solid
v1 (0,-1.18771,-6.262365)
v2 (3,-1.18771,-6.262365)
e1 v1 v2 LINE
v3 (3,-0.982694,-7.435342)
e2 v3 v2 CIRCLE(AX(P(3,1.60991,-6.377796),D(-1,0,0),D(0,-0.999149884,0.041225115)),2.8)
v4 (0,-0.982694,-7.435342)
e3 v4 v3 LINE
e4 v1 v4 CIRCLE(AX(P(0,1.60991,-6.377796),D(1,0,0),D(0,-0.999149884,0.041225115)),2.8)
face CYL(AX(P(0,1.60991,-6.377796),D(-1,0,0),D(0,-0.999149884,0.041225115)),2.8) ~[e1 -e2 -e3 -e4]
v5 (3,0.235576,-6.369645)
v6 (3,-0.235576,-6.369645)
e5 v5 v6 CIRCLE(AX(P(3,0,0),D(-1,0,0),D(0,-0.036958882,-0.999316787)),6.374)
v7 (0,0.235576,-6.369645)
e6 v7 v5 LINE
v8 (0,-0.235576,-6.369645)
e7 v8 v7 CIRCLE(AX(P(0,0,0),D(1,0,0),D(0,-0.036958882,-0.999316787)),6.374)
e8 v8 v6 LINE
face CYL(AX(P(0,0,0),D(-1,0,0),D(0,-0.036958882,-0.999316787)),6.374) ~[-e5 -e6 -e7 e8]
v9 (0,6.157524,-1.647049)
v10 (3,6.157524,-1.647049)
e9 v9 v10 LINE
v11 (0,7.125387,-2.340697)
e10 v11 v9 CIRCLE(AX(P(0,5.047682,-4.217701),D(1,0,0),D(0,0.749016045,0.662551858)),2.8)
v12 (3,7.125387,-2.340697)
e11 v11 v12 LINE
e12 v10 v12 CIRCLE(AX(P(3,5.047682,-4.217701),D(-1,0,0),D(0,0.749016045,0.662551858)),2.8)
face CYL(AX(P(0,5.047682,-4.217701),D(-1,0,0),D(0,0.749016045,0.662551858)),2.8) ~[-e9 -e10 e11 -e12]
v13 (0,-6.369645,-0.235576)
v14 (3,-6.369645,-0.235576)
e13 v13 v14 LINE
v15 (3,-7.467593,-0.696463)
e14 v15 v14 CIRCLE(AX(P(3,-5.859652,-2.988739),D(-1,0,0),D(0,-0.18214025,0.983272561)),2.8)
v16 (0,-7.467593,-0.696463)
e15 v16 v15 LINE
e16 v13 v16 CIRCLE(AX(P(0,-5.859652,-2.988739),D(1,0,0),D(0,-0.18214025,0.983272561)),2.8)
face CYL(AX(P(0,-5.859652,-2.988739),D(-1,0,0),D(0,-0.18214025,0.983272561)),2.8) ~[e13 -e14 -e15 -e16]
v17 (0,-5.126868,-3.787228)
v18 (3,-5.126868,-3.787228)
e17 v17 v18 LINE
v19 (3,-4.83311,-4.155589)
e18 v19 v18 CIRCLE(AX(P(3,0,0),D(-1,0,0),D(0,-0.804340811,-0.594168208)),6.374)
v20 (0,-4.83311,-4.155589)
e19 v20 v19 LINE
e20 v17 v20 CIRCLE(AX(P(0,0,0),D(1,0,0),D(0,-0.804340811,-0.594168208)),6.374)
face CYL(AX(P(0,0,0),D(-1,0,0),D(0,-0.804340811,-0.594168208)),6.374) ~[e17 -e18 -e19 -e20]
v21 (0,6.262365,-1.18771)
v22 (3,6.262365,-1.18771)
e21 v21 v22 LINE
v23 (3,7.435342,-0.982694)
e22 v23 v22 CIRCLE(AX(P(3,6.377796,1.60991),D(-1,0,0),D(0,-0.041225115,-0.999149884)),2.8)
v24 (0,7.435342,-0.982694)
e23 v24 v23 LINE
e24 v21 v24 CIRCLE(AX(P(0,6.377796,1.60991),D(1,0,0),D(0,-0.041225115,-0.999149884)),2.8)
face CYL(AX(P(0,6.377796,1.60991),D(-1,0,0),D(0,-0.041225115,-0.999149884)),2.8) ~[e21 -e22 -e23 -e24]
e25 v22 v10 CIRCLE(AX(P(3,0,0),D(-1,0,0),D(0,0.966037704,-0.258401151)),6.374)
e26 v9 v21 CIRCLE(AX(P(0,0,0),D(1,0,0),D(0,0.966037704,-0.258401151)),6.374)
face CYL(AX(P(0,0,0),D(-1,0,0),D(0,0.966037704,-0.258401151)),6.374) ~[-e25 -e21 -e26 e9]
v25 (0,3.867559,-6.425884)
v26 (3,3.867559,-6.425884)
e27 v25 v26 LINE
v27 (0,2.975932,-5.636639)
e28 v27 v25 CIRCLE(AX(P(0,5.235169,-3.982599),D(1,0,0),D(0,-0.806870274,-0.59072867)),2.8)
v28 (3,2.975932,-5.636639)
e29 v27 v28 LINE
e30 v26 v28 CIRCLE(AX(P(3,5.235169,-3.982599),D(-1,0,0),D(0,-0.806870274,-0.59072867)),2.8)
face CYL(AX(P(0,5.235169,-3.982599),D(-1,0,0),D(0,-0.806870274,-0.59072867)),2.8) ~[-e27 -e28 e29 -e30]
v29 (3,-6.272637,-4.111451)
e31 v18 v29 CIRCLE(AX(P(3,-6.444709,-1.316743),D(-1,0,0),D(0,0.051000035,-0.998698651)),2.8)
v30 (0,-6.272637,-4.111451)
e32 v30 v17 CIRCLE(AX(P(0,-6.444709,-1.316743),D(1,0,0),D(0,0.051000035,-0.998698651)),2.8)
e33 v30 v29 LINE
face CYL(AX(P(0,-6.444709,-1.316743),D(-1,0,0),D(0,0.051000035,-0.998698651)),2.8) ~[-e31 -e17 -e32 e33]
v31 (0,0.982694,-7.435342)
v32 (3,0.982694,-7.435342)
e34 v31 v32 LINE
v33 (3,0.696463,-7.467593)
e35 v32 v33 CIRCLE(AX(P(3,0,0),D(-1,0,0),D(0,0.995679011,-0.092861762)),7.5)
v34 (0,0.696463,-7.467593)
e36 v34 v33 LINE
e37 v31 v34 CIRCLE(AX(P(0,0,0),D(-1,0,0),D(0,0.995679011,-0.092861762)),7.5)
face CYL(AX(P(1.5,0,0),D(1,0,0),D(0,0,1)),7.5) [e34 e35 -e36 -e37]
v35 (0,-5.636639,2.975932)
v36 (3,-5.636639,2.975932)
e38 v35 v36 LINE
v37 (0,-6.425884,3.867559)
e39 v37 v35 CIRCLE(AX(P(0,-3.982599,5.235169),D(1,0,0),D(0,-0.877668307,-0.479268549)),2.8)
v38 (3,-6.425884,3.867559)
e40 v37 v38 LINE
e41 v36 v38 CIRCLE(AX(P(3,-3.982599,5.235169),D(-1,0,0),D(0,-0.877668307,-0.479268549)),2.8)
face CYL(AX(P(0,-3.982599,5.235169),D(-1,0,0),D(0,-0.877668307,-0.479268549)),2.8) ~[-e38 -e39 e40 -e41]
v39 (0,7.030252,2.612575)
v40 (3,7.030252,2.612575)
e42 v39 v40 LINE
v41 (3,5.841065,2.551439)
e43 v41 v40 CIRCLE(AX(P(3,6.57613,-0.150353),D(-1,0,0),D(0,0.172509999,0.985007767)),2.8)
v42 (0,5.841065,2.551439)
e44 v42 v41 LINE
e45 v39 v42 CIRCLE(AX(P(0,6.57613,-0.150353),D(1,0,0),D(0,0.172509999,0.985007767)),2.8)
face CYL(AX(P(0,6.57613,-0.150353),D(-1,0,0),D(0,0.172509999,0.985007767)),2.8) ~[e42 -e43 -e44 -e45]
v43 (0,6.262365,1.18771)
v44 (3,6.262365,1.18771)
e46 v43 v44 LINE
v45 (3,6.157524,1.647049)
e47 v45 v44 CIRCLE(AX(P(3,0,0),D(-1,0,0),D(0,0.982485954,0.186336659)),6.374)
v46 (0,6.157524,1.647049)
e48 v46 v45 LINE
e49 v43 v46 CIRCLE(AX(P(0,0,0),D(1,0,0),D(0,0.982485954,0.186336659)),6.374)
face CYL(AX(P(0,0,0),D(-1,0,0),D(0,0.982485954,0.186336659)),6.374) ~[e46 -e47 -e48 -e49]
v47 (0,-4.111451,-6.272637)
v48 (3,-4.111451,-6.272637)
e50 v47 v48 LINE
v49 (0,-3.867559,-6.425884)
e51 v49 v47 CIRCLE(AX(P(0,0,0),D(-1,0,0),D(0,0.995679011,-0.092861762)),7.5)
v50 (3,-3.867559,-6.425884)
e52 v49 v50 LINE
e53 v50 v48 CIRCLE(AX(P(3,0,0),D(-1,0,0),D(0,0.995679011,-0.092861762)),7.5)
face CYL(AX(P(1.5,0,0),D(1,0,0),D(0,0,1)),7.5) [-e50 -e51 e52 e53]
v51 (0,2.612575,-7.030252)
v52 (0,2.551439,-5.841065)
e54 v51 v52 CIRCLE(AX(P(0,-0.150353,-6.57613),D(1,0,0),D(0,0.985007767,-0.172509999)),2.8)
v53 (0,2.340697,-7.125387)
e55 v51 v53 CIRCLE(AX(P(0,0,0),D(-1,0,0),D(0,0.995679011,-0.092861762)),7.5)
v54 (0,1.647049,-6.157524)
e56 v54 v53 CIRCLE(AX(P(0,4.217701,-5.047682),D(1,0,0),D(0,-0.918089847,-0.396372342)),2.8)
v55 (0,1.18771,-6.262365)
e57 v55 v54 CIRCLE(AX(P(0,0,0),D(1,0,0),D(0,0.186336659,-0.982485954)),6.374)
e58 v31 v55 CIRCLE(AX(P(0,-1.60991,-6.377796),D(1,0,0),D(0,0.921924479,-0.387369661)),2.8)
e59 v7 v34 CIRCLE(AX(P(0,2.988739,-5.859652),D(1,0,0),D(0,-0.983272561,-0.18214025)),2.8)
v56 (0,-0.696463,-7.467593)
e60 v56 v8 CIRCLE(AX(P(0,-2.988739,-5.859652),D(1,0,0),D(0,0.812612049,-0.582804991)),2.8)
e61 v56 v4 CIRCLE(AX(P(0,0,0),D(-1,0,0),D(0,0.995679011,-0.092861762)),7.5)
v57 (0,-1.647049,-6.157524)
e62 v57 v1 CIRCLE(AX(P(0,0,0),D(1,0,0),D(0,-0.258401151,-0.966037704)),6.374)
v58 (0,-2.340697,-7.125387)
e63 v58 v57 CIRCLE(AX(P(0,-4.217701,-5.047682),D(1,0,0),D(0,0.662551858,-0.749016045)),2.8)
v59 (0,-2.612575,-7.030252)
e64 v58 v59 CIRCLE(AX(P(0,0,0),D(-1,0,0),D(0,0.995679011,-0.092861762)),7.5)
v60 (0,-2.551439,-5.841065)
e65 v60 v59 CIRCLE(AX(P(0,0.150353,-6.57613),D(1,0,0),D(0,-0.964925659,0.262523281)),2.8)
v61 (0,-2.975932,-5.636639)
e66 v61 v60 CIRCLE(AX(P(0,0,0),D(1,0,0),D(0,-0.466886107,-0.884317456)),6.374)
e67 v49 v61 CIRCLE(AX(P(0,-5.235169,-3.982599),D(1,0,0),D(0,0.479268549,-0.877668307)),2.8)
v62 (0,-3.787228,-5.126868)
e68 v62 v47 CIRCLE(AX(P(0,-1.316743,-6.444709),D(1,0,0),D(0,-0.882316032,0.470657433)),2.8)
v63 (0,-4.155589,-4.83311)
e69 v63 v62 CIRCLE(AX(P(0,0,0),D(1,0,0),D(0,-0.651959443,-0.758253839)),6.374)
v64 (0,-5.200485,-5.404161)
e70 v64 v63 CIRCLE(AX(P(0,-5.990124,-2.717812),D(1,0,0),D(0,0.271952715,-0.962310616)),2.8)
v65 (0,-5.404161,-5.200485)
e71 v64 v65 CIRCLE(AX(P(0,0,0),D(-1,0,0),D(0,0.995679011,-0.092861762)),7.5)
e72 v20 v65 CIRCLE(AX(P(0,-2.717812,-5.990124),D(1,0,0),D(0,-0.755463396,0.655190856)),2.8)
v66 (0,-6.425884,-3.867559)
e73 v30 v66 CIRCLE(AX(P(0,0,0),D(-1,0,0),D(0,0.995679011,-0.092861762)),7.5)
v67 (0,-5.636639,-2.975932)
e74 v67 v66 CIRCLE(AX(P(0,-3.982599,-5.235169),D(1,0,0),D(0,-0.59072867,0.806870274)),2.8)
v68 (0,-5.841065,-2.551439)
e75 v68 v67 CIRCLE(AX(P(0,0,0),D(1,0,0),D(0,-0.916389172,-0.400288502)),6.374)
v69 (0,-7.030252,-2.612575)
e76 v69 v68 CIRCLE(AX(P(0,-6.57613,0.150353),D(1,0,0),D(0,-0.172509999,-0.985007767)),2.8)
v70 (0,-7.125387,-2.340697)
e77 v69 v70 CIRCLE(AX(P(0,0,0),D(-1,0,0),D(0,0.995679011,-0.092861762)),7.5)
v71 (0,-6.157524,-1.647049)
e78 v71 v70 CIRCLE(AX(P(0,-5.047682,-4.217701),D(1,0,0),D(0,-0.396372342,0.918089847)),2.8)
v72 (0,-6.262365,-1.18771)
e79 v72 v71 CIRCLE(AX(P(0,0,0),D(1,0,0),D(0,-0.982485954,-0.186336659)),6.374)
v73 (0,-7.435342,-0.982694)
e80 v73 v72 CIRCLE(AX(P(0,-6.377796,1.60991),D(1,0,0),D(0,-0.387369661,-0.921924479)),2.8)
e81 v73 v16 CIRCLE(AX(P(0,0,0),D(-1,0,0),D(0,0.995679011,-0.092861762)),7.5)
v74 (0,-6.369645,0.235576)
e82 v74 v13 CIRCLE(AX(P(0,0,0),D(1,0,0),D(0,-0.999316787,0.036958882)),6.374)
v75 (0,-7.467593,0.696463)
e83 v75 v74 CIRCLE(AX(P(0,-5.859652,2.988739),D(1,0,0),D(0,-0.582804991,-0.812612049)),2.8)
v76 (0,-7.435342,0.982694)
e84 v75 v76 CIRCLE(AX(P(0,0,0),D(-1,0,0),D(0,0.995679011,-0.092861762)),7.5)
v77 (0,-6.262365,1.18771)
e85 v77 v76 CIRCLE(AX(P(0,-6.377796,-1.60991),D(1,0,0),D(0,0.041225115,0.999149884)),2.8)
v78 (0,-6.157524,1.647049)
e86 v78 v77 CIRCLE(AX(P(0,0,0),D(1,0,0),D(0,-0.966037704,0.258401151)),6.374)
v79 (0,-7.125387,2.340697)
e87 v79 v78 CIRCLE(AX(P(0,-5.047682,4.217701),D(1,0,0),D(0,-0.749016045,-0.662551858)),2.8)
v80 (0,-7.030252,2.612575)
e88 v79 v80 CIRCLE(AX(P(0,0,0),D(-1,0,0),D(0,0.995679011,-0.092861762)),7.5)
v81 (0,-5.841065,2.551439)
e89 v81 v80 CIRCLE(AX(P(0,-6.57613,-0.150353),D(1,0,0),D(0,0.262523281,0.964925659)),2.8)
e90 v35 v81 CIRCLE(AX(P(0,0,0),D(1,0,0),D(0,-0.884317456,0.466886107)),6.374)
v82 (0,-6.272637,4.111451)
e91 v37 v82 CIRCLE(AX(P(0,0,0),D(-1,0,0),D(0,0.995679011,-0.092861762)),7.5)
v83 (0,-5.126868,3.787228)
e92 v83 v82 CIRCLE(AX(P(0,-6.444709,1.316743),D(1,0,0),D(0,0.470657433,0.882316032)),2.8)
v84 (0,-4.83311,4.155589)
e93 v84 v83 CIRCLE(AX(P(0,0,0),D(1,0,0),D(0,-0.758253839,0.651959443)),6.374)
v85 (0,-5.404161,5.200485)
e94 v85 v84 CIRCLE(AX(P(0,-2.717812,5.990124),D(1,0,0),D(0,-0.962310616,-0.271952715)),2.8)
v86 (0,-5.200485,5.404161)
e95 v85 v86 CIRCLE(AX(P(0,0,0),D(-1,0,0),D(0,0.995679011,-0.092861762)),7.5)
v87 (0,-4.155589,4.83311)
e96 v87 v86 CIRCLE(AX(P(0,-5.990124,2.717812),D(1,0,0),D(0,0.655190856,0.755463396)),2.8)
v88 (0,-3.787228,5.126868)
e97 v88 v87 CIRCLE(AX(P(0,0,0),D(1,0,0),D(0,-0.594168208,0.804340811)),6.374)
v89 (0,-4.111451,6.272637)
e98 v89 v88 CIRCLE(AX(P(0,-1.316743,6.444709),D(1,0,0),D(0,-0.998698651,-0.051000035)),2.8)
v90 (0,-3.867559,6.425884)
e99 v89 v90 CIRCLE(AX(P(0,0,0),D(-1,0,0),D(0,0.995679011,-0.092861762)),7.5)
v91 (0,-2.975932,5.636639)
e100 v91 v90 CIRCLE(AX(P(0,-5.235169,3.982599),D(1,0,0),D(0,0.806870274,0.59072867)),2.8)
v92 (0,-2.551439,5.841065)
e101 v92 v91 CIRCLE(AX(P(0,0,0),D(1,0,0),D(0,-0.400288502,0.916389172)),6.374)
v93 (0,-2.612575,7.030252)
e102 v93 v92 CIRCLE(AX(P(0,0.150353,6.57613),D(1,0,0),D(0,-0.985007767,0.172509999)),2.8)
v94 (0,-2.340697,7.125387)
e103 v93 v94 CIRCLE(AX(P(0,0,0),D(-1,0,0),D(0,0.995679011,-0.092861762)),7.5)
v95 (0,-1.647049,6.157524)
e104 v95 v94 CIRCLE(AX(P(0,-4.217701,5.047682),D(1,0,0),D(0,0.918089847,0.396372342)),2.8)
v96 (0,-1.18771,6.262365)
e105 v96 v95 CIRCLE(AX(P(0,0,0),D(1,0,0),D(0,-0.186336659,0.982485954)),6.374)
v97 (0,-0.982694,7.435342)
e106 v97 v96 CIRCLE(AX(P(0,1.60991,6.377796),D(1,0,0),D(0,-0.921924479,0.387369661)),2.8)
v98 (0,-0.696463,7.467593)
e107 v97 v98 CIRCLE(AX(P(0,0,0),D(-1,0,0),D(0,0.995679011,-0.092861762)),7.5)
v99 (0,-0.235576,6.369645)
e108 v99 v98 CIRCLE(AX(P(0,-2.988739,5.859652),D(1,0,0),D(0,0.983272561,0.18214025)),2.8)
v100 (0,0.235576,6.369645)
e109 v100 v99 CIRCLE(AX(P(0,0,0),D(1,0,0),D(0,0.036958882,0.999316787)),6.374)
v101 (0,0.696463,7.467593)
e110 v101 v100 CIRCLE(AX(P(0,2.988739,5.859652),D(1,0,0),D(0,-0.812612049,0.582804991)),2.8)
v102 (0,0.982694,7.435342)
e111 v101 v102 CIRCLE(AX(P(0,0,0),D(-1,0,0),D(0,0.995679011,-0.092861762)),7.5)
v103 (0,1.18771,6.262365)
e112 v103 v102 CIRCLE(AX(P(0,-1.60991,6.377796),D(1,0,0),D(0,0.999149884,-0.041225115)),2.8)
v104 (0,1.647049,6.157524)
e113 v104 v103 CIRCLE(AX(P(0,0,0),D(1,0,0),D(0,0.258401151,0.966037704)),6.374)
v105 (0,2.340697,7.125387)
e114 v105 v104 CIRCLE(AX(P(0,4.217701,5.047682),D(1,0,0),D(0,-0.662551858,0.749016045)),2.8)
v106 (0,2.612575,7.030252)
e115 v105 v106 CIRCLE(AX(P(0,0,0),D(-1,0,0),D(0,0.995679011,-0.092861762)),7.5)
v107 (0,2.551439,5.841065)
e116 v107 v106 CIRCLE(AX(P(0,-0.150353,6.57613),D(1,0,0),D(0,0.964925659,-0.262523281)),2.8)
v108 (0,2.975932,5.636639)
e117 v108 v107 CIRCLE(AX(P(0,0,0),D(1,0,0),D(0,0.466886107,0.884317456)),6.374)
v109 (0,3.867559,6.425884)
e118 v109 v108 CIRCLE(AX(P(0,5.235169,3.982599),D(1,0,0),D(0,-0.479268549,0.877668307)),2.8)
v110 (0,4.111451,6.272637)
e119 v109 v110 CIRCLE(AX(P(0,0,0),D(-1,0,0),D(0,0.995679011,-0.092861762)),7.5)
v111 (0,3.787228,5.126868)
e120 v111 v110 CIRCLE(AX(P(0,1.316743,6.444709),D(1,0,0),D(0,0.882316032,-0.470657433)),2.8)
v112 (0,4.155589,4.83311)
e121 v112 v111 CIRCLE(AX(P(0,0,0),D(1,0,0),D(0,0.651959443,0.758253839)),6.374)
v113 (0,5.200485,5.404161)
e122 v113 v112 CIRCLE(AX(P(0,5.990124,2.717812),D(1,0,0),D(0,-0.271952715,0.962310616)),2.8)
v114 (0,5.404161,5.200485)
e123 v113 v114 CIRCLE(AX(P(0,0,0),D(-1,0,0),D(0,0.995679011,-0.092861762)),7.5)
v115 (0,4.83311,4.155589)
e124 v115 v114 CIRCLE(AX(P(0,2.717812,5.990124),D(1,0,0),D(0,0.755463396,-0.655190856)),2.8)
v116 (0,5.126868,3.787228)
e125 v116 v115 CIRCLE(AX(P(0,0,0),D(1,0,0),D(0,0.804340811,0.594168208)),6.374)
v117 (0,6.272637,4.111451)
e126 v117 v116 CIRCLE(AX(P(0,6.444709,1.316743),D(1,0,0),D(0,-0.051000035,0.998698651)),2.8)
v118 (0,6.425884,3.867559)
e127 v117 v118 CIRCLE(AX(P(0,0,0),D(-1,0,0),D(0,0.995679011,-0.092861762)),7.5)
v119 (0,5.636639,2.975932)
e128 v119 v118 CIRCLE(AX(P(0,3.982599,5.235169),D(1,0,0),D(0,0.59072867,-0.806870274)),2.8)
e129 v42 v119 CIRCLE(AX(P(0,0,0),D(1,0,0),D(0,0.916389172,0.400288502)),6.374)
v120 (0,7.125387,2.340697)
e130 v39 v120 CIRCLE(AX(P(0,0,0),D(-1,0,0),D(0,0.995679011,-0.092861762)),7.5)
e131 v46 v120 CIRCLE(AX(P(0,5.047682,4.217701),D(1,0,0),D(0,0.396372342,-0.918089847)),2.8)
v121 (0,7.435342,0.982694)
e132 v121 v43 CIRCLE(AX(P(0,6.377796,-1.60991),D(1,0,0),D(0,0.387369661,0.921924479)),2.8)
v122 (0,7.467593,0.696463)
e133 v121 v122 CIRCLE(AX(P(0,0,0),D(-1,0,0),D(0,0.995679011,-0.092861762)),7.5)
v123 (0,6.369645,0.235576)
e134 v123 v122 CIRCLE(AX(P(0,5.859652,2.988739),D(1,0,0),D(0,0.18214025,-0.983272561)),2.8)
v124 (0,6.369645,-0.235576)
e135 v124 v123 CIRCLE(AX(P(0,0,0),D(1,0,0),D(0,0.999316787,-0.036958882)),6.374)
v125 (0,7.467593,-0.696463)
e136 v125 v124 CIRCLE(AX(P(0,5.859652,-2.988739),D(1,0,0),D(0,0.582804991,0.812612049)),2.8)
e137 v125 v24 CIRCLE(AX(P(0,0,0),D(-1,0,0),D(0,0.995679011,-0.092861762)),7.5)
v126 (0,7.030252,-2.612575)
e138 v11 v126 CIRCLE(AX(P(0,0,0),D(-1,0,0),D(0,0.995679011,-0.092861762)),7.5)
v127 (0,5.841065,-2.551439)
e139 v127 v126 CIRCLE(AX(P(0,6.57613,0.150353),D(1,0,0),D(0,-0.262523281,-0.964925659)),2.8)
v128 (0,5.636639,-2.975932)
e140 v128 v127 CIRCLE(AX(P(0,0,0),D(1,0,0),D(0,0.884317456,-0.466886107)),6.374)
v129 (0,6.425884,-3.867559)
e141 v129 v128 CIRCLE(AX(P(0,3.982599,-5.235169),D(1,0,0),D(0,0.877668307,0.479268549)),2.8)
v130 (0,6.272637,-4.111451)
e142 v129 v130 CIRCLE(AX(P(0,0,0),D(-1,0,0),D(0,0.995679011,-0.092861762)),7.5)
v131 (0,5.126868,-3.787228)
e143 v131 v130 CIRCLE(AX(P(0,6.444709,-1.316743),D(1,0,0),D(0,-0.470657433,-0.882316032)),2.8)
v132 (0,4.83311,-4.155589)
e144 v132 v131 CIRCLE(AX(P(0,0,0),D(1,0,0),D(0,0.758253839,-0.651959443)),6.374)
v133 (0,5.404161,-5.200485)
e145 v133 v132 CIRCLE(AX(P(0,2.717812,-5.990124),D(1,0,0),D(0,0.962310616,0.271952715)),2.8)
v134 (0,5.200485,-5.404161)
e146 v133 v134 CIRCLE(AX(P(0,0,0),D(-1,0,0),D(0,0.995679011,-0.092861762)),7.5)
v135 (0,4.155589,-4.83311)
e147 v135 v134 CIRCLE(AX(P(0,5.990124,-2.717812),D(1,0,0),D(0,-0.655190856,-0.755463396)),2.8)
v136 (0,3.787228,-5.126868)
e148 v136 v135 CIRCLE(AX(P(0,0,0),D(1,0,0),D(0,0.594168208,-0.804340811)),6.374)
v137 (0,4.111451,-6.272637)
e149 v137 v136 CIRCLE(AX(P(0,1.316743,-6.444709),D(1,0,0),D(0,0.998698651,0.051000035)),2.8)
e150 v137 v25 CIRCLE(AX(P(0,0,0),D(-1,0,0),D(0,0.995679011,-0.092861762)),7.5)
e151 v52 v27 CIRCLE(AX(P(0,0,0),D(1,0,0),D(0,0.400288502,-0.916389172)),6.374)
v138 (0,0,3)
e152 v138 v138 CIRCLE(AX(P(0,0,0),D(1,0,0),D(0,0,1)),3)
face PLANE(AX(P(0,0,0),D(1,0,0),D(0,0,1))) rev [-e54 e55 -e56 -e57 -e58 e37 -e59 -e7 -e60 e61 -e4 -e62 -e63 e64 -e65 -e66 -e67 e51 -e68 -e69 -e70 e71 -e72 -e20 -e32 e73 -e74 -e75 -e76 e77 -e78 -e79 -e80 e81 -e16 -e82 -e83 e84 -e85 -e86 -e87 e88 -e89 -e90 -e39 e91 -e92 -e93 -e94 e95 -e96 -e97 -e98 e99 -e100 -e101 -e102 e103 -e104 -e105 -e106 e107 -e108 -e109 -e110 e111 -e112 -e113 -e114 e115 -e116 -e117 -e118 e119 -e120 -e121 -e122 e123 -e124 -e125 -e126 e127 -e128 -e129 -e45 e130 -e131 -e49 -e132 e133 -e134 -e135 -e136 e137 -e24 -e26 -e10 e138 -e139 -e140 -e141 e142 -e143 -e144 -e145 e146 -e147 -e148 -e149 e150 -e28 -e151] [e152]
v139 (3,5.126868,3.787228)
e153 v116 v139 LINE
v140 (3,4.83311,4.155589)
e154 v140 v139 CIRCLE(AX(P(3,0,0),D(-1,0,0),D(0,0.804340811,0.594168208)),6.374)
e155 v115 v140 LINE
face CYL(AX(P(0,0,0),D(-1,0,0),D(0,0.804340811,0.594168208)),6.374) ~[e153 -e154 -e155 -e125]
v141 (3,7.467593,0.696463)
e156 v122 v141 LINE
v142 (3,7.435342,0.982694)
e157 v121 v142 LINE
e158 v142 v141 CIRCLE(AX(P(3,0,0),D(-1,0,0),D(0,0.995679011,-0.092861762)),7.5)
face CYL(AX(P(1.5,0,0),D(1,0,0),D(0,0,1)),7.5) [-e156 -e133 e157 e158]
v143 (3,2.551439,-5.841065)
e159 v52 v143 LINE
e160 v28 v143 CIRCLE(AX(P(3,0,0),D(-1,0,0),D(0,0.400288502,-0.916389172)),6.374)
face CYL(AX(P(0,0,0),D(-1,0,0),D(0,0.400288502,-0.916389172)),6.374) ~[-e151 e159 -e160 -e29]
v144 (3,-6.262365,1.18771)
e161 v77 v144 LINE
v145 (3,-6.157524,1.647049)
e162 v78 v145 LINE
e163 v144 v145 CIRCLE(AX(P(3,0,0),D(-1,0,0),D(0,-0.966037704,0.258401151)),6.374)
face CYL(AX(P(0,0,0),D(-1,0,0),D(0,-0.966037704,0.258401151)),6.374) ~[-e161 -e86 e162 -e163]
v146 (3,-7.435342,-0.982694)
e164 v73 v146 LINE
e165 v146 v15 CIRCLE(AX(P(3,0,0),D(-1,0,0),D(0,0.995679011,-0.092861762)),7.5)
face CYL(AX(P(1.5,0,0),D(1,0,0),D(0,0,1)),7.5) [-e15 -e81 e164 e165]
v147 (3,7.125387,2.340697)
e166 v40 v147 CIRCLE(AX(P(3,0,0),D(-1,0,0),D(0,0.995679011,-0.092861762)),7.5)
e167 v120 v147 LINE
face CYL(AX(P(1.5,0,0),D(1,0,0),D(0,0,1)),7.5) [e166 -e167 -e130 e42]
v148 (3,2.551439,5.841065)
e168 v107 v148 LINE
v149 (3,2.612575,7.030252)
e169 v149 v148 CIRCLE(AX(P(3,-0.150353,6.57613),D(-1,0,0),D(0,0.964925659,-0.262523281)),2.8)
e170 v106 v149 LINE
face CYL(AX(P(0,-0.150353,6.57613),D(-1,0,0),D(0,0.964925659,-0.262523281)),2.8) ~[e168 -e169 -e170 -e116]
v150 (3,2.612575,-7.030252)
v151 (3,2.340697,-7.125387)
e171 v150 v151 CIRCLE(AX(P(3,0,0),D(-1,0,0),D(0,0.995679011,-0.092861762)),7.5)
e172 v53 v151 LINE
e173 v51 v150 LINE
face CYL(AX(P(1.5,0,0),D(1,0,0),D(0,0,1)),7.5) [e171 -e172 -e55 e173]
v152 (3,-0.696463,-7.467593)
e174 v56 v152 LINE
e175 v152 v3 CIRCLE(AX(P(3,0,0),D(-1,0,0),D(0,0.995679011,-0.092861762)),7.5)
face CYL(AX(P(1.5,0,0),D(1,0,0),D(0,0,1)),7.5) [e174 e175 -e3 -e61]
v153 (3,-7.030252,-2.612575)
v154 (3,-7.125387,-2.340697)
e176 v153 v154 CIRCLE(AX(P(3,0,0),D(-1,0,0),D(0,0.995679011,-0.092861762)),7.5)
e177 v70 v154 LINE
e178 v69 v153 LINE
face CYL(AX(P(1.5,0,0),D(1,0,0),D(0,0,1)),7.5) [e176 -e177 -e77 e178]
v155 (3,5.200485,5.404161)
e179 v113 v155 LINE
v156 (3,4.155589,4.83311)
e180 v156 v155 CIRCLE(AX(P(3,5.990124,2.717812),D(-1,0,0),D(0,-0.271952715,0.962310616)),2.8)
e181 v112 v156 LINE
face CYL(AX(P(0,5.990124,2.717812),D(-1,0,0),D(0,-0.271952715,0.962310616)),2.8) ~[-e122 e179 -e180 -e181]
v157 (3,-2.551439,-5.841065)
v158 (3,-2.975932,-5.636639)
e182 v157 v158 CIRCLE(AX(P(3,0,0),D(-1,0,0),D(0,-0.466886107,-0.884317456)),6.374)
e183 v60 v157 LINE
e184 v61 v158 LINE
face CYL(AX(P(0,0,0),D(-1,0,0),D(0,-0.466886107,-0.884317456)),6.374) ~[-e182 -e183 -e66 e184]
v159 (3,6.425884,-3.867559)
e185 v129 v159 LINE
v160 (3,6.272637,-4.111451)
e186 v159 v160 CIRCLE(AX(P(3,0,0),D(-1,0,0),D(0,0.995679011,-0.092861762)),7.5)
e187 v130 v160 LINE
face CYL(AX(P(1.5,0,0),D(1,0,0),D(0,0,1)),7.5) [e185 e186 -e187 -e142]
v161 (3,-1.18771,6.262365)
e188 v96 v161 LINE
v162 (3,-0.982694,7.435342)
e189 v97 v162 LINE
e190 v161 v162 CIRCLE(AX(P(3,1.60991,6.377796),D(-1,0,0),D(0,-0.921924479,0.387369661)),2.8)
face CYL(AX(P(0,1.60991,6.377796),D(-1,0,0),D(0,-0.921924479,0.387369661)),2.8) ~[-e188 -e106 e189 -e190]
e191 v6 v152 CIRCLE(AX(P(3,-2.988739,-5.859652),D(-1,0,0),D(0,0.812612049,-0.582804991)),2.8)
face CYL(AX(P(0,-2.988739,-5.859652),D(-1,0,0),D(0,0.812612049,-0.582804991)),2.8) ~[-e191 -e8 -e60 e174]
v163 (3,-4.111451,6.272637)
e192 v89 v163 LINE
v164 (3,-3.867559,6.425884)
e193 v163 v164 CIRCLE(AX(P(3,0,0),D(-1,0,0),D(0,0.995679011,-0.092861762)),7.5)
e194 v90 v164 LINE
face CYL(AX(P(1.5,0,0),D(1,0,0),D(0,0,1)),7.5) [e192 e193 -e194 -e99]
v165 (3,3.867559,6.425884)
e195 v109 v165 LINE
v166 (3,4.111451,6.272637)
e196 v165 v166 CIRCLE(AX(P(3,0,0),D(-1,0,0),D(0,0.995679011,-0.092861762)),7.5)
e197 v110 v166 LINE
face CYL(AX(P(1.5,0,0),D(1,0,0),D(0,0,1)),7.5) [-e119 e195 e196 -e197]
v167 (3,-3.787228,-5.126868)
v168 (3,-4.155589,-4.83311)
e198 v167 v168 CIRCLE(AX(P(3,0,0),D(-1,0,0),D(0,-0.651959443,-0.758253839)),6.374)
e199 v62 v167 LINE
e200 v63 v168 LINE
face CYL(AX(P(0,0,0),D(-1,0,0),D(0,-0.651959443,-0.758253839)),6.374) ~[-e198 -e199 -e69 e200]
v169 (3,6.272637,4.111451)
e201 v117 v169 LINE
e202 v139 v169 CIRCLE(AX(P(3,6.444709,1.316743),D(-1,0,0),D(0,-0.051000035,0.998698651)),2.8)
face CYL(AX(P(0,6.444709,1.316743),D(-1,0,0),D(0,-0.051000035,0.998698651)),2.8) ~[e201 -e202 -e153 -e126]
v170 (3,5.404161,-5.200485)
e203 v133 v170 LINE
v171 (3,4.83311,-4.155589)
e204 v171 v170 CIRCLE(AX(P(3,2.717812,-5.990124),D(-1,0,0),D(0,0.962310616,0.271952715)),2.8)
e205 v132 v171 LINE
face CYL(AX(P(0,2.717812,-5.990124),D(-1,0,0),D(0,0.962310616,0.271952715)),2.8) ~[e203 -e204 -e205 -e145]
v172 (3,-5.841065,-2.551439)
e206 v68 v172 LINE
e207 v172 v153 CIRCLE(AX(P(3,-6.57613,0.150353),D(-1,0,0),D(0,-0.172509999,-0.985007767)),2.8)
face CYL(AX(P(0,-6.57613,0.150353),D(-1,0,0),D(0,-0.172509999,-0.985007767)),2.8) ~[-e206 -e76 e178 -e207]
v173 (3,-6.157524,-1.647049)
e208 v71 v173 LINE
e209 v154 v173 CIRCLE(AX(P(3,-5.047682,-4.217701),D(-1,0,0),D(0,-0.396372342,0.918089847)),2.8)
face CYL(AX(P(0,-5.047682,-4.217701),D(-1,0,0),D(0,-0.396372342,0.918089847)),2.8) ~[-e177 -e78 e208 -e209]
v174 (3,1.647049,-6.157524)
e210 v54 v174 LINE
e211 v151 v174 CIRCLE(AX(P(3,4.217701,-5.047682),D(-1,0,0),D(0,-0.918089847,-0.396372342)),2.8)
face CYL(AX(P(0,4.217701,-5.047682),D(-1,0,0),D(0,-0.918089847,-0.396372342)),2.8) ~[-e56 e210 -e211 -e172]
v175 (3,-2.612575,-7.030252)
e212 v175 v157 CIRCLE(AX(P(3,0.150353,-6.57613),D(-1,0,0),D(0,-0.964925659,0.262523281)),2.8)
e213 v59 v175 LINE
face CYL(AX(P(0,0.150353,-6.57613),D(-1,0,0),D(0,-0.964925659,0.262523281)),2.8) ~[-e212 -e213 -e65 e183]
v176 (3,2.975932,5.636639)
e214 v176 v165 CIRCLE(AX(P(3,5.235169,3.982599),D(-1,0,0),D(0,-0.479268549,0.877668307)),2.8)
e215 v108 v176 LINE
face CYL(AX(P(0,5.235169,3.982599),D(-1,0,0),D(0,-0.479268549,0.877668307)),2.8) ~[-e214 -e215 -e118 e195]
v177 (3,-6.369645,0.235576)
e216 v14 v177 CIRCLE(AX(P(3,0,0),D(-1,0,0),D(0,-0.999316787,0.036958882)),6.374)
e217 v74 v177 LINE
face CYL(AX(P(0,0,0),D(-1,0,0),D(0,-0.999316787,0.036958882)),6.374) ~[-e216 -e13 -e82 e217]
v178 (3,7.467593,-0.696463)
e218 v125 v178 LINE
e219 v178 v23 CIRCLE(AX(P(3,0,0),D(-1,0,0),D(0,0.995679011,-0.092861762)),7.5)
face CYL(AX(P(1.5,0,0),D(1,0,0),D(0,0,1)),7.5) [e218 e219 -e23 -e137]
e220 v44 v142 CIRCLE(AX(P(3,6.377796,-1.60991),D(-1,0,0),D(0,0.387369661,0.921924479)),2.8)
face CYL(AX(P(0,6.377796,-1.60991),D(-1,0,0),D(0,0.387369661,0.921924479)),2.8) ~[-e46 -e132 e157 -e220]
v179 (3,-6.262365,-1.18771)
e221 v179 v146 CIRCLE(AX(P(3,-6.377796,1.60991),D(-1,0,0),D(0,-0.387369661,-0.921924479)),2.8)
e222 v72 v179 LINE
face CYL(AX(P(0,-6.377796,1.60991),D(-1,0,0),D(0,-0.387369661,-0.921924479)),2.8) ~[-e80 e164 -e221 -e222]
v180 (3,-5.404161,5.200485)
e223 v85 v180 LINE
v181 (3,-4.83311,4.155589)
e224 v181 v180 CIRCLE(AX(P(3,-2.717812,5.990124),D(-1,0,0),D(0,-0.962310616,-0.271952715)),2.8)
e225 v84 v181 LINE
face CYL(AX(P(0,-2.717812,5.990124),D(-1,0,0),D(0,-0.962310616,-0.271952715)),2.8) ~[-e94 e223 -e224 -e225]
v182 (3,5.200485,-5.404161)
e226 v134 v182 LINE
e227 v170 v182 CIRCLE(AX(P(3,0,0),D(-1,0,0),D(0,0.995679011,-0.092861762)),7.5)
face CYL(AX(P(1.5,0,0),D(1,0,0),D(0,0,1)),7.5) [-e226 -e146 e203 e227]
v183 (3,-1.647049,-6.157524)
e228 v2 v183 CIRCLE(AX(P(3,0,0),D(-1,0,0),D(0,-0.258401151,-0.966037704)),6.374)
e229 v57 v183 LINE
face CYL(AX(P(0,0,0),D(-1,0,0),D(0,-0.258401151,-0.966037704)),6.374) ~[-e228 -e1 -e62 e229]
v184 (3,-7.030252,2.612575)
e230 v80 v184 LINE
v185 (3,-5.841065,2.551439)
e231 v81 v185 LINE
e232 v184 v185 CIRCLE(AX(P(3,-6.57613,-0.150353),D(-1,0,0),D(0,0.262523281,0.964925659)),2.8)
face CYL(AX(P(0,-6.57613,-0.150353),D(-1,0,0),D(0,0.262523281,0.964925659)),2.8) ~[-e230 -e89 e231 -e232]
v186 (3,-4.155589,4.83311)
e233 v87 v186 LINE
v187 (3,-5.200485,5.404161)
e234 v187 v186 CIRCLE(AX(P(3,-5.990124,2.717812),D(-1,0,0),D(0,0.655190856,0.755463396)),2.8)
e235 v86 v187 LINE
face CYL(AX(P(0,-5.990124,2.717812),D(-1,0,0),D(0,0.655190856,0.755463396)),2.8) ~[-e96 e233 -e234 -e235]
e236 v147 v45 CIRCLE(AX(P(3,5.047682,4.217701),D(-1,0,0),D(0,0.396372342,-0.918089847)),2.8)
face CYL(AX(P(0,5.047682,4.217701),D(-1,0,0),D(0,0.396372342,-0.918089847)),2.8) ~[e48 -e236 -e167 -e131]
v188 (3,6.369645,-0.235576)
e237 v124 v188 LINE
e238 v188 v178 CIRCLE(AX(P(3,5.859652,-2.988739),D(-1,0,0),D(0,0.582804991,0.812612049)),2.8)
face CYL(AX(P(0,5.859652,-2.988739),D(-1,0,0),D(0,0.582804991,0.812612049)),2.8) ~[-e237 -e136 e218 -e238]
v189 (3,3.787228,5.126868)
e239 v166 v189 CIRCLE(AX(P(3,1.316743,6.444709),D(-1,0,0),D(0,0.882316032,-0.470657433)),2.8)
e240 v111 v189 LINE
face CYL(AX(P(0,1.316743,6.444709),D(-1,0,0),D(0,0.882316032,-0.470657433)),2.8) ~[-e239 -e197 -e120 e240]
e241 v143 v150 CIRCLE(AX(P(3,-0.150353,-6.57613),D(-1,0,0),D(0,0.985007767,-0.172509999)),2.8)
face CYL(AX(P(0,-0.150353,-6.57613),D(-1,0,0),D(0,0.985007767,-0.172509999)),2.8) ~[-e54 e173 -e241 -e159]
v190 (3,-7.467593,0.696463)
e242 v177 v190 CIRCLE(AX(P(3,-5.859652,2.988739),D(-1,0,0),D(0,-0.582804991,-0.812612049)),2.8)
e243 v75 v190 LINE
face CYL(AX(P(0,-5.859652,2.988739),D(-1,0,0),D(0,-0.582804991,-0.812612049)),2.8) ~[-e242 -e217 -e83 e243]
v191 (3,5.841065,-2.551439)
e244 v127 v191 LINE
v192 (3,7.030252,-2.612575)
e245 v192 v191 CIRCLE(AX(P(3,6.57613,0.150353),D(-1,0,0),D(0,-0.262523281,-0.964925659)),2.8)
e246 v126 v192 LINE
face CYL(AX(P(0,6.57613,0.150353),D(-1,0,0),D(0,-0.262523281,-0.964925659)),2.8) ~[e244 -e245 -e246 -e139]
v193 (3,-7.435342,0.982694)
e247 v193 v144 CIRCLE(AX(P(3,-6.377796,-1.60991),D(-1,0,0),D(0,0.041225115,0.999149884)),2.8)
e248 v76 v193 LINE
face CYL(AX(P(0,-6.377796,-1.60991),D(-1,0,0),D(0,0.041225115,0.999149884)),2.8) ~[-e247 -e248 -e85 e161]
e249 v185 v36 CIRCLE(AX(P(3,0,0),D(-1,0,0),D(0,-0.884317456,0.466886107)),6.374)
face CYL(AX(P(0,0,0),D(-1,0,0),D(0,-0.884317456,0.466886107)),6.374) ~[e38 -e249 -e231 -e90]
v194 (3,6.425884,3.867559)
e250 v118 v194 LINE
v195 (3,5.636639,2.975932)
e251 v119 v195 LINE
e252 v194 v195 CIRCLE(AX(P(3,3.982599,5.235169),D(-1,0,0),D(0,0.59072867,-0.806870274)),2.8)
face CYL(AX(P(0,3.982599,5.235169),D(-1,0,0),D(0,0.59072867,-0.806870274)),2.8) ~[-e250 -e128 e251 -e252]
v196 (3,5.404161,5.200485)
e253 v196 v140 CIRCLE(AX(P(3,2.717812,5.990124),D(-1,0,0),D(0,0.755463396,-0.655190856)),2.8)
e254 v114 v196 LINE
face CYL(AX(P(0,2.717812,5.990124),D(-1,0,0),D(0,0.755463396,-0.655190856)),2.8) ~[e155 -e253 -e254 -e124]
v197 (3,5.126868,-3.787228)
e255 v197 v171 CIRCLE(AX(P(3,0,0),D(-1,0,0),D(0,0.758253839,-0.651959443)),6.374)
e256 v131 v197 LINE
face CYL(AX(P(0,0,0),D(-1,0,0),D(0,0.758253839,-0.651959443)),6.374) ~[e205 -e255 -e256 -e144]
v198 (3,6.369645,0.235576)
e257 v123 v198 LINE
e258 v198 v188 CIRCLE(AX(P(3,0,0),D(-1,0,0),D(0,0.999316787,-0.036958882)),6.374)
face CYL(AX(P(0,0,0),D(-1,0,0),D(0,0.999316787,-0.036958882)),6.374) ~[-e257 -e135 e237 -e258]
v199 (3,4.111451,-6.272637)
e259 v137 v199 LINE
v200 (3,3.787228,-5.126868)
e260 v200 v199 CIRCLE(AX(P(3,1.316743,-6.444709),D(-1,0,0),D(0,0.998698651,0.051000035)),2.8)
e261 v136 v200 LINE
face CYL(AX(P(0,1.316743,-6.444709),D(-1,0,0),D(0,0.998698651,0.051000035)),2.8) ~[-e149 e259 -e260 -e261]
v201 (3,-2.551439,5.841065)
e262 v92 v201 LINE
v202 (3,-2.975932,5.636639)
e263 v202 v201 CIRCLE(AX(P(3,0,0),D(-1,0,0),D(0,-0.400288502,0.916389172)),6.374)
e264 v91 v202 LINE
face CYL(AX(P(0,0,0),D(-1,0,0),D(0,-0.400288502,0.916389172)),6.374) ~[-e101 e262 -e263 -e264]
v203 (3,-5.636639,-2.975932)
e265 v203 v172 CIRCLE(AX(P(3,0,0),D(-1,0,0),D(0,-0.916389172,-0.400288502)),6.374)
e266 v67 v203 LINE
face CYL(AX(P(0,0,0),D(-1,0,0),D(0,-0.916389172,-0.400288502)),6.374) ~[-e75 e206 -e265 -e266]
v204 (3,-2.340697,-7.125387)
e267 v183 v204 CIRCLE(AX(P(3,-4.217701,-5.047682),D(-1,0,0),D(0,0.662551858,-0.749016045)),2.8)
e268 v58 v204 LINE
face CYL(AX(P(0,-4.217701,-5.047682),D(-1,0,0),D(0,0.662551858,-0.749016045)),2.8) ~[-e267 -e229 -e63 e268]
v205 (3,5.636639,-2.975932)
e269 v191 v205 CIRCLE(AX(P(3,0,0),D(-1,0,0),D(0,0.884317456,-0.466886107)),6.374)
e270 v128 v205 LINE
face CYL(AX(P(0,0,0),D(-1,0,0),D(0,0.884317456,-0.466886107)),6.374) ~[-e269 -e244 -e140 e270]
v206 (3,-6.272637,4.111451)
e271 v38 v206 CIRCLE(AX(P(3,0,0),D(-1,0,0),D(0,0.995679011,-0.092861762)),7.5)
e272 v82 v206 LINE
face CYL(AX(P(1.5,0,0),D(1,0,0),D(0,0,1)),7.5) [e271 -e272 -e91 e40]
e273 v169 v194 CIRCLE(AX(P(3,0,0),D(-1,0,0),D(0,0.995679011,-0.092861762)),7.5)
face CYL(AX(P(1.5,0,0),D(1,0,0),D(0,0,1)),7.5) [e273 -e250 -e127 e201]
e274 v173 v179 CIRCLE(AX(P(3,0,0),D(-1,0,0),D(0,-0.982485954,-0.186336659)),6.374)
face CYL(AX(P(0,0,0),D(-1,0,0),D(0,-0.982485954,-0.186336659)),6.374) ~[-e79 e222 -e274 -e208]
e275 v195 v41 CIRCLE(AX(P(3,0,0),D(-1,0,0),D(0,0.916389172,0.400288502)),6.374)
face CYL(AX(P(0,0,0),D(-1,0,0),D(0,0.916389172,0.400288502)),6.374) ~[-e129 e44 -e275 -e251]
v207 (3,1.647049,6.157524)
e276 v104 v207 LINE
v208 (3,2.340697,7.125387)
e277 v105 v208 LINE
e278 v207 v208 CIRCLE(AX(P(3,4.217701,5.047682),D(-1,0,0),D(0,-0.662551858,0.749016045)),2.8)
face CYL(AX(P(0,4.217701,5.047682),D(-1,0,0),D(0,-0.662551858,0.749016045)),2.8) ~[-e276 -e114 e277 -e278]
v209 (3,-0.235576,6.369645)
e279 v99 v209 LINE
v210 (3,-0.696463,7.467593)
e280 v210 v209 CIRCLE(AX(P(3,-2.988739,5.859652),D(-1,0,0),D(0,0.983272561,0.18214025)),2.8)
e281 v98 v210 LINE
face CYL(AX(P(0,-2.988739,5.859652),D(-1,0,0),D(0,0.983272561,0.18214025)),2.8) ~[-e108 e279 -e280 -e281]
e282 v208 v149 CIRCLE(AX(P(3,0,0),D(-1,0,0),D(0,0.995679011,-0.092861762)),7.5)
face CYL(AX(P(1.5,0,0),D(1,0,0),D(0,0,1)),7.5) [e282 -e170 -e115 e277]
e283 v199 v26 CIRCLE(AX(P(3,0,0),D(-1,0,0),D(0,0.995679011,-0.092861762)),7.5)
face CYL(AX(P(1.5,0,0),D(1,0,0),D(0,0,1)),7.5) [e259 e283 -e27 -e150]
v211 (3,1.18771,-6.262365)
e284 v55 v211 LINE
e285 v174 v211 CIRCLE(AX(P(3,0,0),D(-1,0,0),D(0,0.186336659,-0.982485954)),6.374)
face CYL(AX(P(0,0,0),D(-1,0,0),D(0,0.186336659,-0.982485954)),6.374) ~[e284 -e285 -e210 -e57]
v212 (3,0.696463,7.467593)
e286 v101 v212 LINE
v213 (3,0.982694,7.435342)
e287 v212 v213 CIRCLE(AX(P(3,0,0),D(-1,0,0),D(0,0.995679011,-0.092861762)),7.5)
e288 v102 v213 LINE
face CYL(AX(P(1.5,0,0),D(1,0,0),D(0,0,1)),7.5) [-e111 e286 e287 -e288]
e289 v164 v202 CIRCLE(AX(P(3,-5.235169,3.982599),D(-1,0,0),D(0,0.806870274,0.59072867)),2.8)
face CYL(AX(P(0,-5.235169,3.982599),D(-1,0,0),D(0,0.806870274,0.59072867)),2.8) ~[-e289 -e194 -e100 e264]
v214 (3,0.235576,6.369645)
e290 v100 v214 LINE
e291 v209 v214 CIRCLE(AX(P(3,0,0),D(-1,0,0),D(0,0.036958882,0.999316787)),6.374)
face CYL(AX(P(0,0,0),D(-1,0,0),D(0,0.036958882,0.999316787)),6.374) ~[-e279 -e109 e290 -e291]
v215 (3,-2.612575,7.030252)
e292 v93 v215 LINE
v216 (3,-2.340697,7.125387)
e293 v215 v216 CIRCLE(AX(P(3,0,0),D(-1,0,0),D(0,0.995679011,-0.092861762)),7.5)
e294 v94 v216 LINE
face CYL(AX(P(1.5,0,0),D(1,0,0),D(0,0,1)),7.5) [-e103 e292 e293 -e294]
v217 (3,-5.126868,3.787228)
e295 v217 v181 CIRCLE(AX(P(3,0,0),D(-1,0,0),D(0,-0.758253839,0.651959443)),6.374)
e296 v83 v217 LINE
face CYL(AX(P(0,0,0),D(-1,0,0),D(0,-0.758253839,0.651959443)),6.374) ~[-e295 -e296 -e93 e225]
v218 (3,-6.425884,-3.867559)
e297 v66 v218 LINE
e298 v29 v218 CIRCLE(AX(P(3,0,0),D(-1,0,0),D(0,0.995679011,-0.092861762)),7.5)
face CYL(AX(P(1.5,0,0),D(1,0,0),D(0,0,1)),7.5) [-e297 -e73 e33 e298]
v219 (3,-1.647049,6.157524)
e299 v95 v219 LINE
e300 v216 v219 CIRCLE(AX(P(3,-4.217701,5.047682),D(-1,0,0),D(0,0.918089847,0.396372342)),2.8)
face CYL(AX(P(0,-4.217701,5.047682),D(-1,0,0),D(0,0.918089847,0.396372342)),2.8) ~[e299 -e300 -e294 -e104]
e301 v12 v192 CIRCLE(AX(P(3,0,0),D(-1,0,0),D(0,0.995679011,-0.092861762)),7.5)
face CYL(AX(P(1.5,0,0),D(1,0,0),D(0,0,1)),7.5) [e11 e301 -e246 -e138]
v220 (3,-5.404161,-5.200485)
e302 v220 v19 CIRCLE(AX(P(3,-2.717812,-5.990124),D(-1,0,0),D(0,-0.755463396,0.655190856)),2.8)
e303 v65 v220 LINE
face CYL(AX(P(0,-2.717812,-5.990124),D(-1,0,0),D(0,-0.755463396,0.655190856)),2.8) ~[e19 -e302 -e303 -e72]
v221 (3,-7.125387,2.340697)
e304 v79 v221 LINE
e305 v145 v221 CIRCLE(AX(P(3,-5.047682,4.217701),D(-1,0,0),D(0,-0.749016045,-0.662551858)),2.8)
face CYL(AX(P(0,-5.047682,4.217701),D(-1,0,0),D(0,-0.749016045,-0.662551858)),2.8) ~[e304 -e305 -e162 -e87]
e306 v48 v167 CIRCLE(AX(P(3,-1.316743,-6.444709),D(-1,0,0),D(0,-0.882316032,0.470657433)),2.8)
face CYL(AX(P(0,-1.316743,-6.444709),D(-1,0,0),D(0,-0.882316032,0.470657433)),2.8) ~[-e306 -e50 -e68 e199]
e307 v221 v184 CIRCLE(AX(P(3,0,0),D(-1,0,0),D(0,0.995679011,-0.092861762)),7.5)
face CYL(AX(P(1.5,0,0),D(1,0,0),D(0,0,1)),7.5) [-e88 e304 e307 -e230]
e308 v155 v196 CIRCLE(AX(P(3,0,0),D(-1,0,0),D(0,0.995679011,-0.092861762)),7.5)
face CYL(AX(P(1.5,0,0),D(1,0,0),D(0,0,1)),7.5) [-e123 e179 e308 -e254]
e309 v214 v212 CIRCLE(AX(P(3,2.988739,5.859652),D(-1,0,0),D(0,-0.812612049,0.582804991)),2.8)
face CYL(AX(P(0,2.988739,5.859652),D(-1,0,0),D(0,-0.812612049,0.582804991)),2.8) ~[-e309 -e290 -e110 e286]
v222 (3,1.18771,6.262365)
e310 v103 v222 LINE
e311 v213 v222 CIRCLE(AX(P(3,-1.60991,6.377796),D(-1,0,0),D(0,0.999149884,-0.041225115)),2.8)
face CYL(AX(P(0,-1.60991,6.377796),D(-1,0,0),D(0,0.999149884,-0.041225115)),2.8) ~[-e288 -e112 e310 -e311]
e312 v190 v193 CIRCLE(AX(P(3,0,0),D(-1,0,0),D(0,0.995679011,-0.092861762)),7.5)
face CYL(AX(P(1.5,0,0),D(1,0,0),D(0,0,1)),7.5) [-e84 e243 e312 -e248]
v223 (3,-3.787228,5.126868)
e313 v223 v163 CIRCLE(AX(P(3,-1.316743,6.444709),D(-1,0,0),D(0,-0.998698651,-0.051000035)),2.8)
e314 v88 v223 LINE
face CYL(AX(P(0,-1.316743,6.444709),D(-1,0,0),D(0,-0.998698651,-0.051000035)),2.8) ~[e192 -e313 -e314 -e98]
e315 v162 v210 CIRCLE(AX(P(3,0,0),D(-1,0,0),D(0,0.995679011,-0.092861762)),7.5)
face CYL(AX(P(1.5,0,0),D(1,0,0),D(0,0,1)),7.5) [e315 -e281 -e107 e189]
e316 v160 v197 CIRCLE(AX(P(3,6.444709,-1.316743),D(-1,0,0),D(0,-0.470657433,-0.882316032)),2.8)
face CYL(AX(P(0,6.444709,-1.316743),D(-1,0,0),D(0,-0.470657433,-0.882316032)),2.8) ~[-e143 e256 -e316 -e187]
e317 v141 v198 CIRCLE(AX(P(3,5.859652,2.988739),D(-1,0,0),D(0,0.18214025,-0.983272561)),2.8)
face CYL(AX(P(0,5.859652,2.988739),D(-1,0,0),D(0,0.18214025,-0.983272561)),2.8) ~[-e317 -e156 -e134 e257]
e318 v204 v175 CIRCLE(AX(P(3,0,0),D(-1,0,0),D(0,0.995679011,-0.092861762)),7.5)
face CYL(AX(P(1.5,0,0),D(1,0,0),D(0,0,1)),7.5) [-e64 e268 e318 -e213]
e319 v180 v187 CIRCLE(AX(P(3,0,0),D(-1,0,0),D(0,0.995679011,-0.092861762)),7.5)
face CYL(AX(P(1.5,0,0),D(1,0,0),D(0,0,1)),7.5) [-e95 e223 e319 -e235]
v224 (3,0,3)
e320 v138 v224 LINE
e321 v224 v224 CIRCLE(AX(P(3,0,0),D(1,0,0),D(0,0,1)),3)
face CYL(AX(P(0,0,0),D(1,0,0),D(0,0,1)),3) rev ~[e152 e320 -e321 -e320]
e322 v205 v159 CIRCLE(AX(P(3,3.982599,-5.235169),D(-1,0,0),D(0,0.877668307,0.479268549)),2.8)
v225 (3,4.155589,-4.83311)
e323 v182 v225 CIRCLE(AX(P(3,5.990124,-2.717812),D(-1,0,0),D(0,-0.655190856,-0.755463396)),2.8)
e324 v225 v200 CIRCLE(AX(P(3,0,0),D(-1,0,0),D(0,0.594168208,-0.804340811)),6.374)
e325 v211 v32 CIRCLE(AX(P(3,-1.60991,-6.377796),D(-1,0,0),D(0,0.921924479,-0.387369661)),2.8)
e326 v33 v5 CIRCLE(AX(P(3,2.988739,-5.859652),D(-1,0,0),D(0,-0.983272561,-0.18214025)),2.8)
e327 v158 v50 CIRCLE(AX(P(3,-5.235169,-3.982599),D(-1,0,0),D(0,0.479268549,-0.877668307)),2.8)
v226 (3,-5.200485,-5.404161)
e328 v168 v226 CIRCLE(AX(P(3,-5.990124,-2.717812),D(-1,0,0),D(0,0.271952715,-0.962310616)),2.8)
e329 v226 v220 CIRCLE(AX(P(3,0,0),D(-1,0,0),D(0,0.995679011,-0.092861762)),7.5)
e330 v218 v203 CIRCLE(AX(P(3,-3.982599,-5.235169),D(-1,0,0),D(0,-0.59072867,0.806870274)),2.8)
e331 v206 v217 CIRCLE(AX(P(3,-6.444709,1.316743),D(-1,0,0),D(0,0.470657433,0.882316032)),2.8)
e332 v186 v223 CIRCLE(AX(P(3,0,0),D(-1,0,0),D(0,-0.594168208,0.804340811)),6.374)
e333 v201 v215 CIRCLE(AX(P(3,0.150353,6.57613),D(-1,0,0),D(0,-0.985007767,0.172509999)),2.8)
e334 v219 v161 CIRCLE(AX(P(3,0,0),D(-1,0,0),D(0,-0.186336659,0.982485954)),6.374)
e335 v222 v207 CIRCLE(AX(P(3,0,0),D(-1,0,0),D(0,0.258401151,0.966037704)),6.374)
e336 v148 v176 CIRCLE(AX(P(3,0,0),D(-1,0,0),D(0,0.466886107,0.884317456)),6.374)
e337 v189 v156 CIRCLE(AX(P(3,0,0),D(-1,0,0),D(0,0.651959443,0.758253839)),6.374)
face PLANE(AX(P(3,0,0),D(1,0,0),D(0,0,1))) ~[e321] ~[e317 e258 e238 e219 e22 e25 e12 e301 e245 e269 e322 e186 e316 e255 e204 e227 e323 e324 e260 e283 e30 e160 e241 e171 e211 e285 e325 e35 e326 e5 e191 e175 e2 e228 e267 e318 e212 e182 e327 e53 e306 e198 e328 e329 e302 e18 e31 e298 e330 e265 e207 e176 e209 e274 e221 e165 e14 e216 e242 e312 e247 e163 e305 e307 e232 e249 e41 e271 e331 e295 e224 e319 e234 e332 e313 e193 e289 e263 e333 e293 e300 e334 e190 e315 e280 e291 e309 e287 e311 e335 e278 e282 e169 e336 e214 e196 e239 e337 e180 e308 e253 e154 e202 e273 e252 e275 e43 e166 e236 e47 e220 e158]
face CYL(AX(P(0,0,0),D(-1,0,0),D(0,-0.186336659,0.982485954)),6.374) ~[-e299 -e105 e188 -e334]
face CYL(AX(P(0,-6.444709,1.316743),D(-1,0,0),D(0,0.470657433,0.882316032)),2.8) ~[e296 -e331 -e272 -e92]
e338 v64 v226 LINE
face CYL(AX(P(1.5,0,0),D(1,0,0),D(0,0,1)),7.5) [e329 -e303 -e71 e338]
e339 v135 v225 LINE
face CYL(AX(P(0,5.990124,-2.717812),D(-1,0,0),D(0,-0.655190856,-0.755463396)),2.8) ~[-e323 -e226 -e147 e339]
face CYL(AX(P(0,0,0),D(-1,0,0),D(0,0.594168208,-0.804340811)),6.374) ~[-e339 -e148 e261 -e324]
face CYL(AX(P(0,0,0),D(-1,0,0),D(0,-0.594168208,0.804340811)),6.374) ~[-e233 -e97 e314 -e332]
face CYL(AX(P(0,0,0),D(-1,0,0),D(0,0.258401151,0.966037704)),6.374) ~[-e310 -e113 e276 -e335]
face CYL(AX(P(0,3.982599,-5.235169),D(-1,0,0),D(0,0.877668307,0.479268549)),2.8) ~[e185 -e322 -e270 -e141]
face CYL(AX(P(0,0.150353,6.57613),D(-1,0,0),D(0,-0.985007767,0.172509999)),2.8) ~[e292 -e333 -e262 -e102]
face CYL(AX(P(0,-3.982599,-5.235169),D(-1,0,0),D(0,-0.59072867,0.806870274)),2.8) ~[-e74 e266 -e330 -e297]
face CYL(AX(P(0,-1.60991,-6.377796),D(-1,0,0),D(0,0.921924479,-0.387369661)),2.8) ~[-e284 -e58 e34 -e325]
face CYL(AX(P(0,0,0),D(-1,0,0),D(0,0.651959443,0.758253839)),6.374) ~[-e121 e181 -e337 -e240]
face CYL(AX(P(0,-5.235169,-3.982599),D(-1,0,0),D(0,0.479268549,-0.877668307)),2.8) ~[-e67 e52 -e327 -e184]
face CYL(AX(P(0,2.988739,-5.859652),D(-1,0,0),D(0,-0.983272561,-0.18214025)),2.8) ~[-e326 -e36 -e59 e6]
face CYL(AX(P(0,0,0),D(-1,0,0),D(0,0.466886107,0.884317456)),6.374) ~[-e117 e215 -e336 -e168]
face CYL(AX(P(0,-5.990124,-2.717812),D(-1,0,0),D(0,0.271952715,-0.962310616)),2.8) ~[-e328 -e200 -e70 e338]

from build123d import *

# Parameters (mm, degrees)
BASPROSKE_W     = 3
BASPROSKE_H     = 7.5
TOOTHCUT_DEPTH  = 12.022703843
TEETHCUTS_COUNT = 28
TEETHCUTS_ANGLE = 347.142857143
BORSKE_R        = 3
BORE_DEPTH      = 50.0000508


with BuildPart() as part:
    # BasProSke → Base-Revolve (revolve)
    with BuildSketch(Plane(origin=(0, 0, 0), x_dir=(1, 0, 0), z_dir=(0, 1, 0)), mode=Mode.PRIVATE) as base_revolve_sk:
        with Locations((1.5, 3.75)):
            Rectangle(BASPROSKE_W, BASPROSKE_H)
    revolve(base_revolve_sk.sketch.rotate(Axis((-10, 0, 0), (1, 0, 0)), 180), axis=Axis((-10, 0, 0), (1, 0, 0)))

    # TooCutSke → ToothCut (cut, through all)
    with BuildSketch(Plane(origin=(0, 0, 0), x_dir=(0, 0, -1), z_dir=(1, 0, 0))):
        with BuildLine():
            ThreePointArc((0.235575921, 6.369645201), (0, 6.374), (-0.235575921, 6.369645201))
            ThreePointArc((-0.235575921, 6.369645201), (-0.412688204, 6.956904444), (-0.713425358, 7.491506485))
            ThreePointArc((-0.713425358, 7.491506485), (0, 7.5254), (0.713425358, 7.491506485))
            ThreePointArc((0.713425358, 7.491506485), (0.412688204, 6.956904444), (0.235575921, 6.369645201))
        make_face()
    toothcut = extrude(amount=TOOTHCUT_DEPTH, mode=Mode.SUBTRACT)

    # TeethCuts: ToothCut ×28 about axis
    teethcuts_axis = Axis((-10, 0, 0), (1, 0, 0))
    for i in range(1, TEETHCUTS_COUNT):
        add(toothcut.rotate(teethcuts_axis, i * TEETHCUTS_ANGLE / (TEETHCUTS_COUNT - 1)), mode=Mode.SUBTRACT)

    # BorSke → Bore (cut, symmetric)
    with BuildSketch(Plane(origin=(0, 0, 0), x_dir=(0, 0, -1), z_dir=(1, 0, 0))):
        with Locations(Location((0, 0, 0), (0, 0, 180))):
            Circle(BORSKE_R)
    extrude(amount=BORE_DEPTH, both=True, mode=Mode.SUBTRACT)


solid = part.part
